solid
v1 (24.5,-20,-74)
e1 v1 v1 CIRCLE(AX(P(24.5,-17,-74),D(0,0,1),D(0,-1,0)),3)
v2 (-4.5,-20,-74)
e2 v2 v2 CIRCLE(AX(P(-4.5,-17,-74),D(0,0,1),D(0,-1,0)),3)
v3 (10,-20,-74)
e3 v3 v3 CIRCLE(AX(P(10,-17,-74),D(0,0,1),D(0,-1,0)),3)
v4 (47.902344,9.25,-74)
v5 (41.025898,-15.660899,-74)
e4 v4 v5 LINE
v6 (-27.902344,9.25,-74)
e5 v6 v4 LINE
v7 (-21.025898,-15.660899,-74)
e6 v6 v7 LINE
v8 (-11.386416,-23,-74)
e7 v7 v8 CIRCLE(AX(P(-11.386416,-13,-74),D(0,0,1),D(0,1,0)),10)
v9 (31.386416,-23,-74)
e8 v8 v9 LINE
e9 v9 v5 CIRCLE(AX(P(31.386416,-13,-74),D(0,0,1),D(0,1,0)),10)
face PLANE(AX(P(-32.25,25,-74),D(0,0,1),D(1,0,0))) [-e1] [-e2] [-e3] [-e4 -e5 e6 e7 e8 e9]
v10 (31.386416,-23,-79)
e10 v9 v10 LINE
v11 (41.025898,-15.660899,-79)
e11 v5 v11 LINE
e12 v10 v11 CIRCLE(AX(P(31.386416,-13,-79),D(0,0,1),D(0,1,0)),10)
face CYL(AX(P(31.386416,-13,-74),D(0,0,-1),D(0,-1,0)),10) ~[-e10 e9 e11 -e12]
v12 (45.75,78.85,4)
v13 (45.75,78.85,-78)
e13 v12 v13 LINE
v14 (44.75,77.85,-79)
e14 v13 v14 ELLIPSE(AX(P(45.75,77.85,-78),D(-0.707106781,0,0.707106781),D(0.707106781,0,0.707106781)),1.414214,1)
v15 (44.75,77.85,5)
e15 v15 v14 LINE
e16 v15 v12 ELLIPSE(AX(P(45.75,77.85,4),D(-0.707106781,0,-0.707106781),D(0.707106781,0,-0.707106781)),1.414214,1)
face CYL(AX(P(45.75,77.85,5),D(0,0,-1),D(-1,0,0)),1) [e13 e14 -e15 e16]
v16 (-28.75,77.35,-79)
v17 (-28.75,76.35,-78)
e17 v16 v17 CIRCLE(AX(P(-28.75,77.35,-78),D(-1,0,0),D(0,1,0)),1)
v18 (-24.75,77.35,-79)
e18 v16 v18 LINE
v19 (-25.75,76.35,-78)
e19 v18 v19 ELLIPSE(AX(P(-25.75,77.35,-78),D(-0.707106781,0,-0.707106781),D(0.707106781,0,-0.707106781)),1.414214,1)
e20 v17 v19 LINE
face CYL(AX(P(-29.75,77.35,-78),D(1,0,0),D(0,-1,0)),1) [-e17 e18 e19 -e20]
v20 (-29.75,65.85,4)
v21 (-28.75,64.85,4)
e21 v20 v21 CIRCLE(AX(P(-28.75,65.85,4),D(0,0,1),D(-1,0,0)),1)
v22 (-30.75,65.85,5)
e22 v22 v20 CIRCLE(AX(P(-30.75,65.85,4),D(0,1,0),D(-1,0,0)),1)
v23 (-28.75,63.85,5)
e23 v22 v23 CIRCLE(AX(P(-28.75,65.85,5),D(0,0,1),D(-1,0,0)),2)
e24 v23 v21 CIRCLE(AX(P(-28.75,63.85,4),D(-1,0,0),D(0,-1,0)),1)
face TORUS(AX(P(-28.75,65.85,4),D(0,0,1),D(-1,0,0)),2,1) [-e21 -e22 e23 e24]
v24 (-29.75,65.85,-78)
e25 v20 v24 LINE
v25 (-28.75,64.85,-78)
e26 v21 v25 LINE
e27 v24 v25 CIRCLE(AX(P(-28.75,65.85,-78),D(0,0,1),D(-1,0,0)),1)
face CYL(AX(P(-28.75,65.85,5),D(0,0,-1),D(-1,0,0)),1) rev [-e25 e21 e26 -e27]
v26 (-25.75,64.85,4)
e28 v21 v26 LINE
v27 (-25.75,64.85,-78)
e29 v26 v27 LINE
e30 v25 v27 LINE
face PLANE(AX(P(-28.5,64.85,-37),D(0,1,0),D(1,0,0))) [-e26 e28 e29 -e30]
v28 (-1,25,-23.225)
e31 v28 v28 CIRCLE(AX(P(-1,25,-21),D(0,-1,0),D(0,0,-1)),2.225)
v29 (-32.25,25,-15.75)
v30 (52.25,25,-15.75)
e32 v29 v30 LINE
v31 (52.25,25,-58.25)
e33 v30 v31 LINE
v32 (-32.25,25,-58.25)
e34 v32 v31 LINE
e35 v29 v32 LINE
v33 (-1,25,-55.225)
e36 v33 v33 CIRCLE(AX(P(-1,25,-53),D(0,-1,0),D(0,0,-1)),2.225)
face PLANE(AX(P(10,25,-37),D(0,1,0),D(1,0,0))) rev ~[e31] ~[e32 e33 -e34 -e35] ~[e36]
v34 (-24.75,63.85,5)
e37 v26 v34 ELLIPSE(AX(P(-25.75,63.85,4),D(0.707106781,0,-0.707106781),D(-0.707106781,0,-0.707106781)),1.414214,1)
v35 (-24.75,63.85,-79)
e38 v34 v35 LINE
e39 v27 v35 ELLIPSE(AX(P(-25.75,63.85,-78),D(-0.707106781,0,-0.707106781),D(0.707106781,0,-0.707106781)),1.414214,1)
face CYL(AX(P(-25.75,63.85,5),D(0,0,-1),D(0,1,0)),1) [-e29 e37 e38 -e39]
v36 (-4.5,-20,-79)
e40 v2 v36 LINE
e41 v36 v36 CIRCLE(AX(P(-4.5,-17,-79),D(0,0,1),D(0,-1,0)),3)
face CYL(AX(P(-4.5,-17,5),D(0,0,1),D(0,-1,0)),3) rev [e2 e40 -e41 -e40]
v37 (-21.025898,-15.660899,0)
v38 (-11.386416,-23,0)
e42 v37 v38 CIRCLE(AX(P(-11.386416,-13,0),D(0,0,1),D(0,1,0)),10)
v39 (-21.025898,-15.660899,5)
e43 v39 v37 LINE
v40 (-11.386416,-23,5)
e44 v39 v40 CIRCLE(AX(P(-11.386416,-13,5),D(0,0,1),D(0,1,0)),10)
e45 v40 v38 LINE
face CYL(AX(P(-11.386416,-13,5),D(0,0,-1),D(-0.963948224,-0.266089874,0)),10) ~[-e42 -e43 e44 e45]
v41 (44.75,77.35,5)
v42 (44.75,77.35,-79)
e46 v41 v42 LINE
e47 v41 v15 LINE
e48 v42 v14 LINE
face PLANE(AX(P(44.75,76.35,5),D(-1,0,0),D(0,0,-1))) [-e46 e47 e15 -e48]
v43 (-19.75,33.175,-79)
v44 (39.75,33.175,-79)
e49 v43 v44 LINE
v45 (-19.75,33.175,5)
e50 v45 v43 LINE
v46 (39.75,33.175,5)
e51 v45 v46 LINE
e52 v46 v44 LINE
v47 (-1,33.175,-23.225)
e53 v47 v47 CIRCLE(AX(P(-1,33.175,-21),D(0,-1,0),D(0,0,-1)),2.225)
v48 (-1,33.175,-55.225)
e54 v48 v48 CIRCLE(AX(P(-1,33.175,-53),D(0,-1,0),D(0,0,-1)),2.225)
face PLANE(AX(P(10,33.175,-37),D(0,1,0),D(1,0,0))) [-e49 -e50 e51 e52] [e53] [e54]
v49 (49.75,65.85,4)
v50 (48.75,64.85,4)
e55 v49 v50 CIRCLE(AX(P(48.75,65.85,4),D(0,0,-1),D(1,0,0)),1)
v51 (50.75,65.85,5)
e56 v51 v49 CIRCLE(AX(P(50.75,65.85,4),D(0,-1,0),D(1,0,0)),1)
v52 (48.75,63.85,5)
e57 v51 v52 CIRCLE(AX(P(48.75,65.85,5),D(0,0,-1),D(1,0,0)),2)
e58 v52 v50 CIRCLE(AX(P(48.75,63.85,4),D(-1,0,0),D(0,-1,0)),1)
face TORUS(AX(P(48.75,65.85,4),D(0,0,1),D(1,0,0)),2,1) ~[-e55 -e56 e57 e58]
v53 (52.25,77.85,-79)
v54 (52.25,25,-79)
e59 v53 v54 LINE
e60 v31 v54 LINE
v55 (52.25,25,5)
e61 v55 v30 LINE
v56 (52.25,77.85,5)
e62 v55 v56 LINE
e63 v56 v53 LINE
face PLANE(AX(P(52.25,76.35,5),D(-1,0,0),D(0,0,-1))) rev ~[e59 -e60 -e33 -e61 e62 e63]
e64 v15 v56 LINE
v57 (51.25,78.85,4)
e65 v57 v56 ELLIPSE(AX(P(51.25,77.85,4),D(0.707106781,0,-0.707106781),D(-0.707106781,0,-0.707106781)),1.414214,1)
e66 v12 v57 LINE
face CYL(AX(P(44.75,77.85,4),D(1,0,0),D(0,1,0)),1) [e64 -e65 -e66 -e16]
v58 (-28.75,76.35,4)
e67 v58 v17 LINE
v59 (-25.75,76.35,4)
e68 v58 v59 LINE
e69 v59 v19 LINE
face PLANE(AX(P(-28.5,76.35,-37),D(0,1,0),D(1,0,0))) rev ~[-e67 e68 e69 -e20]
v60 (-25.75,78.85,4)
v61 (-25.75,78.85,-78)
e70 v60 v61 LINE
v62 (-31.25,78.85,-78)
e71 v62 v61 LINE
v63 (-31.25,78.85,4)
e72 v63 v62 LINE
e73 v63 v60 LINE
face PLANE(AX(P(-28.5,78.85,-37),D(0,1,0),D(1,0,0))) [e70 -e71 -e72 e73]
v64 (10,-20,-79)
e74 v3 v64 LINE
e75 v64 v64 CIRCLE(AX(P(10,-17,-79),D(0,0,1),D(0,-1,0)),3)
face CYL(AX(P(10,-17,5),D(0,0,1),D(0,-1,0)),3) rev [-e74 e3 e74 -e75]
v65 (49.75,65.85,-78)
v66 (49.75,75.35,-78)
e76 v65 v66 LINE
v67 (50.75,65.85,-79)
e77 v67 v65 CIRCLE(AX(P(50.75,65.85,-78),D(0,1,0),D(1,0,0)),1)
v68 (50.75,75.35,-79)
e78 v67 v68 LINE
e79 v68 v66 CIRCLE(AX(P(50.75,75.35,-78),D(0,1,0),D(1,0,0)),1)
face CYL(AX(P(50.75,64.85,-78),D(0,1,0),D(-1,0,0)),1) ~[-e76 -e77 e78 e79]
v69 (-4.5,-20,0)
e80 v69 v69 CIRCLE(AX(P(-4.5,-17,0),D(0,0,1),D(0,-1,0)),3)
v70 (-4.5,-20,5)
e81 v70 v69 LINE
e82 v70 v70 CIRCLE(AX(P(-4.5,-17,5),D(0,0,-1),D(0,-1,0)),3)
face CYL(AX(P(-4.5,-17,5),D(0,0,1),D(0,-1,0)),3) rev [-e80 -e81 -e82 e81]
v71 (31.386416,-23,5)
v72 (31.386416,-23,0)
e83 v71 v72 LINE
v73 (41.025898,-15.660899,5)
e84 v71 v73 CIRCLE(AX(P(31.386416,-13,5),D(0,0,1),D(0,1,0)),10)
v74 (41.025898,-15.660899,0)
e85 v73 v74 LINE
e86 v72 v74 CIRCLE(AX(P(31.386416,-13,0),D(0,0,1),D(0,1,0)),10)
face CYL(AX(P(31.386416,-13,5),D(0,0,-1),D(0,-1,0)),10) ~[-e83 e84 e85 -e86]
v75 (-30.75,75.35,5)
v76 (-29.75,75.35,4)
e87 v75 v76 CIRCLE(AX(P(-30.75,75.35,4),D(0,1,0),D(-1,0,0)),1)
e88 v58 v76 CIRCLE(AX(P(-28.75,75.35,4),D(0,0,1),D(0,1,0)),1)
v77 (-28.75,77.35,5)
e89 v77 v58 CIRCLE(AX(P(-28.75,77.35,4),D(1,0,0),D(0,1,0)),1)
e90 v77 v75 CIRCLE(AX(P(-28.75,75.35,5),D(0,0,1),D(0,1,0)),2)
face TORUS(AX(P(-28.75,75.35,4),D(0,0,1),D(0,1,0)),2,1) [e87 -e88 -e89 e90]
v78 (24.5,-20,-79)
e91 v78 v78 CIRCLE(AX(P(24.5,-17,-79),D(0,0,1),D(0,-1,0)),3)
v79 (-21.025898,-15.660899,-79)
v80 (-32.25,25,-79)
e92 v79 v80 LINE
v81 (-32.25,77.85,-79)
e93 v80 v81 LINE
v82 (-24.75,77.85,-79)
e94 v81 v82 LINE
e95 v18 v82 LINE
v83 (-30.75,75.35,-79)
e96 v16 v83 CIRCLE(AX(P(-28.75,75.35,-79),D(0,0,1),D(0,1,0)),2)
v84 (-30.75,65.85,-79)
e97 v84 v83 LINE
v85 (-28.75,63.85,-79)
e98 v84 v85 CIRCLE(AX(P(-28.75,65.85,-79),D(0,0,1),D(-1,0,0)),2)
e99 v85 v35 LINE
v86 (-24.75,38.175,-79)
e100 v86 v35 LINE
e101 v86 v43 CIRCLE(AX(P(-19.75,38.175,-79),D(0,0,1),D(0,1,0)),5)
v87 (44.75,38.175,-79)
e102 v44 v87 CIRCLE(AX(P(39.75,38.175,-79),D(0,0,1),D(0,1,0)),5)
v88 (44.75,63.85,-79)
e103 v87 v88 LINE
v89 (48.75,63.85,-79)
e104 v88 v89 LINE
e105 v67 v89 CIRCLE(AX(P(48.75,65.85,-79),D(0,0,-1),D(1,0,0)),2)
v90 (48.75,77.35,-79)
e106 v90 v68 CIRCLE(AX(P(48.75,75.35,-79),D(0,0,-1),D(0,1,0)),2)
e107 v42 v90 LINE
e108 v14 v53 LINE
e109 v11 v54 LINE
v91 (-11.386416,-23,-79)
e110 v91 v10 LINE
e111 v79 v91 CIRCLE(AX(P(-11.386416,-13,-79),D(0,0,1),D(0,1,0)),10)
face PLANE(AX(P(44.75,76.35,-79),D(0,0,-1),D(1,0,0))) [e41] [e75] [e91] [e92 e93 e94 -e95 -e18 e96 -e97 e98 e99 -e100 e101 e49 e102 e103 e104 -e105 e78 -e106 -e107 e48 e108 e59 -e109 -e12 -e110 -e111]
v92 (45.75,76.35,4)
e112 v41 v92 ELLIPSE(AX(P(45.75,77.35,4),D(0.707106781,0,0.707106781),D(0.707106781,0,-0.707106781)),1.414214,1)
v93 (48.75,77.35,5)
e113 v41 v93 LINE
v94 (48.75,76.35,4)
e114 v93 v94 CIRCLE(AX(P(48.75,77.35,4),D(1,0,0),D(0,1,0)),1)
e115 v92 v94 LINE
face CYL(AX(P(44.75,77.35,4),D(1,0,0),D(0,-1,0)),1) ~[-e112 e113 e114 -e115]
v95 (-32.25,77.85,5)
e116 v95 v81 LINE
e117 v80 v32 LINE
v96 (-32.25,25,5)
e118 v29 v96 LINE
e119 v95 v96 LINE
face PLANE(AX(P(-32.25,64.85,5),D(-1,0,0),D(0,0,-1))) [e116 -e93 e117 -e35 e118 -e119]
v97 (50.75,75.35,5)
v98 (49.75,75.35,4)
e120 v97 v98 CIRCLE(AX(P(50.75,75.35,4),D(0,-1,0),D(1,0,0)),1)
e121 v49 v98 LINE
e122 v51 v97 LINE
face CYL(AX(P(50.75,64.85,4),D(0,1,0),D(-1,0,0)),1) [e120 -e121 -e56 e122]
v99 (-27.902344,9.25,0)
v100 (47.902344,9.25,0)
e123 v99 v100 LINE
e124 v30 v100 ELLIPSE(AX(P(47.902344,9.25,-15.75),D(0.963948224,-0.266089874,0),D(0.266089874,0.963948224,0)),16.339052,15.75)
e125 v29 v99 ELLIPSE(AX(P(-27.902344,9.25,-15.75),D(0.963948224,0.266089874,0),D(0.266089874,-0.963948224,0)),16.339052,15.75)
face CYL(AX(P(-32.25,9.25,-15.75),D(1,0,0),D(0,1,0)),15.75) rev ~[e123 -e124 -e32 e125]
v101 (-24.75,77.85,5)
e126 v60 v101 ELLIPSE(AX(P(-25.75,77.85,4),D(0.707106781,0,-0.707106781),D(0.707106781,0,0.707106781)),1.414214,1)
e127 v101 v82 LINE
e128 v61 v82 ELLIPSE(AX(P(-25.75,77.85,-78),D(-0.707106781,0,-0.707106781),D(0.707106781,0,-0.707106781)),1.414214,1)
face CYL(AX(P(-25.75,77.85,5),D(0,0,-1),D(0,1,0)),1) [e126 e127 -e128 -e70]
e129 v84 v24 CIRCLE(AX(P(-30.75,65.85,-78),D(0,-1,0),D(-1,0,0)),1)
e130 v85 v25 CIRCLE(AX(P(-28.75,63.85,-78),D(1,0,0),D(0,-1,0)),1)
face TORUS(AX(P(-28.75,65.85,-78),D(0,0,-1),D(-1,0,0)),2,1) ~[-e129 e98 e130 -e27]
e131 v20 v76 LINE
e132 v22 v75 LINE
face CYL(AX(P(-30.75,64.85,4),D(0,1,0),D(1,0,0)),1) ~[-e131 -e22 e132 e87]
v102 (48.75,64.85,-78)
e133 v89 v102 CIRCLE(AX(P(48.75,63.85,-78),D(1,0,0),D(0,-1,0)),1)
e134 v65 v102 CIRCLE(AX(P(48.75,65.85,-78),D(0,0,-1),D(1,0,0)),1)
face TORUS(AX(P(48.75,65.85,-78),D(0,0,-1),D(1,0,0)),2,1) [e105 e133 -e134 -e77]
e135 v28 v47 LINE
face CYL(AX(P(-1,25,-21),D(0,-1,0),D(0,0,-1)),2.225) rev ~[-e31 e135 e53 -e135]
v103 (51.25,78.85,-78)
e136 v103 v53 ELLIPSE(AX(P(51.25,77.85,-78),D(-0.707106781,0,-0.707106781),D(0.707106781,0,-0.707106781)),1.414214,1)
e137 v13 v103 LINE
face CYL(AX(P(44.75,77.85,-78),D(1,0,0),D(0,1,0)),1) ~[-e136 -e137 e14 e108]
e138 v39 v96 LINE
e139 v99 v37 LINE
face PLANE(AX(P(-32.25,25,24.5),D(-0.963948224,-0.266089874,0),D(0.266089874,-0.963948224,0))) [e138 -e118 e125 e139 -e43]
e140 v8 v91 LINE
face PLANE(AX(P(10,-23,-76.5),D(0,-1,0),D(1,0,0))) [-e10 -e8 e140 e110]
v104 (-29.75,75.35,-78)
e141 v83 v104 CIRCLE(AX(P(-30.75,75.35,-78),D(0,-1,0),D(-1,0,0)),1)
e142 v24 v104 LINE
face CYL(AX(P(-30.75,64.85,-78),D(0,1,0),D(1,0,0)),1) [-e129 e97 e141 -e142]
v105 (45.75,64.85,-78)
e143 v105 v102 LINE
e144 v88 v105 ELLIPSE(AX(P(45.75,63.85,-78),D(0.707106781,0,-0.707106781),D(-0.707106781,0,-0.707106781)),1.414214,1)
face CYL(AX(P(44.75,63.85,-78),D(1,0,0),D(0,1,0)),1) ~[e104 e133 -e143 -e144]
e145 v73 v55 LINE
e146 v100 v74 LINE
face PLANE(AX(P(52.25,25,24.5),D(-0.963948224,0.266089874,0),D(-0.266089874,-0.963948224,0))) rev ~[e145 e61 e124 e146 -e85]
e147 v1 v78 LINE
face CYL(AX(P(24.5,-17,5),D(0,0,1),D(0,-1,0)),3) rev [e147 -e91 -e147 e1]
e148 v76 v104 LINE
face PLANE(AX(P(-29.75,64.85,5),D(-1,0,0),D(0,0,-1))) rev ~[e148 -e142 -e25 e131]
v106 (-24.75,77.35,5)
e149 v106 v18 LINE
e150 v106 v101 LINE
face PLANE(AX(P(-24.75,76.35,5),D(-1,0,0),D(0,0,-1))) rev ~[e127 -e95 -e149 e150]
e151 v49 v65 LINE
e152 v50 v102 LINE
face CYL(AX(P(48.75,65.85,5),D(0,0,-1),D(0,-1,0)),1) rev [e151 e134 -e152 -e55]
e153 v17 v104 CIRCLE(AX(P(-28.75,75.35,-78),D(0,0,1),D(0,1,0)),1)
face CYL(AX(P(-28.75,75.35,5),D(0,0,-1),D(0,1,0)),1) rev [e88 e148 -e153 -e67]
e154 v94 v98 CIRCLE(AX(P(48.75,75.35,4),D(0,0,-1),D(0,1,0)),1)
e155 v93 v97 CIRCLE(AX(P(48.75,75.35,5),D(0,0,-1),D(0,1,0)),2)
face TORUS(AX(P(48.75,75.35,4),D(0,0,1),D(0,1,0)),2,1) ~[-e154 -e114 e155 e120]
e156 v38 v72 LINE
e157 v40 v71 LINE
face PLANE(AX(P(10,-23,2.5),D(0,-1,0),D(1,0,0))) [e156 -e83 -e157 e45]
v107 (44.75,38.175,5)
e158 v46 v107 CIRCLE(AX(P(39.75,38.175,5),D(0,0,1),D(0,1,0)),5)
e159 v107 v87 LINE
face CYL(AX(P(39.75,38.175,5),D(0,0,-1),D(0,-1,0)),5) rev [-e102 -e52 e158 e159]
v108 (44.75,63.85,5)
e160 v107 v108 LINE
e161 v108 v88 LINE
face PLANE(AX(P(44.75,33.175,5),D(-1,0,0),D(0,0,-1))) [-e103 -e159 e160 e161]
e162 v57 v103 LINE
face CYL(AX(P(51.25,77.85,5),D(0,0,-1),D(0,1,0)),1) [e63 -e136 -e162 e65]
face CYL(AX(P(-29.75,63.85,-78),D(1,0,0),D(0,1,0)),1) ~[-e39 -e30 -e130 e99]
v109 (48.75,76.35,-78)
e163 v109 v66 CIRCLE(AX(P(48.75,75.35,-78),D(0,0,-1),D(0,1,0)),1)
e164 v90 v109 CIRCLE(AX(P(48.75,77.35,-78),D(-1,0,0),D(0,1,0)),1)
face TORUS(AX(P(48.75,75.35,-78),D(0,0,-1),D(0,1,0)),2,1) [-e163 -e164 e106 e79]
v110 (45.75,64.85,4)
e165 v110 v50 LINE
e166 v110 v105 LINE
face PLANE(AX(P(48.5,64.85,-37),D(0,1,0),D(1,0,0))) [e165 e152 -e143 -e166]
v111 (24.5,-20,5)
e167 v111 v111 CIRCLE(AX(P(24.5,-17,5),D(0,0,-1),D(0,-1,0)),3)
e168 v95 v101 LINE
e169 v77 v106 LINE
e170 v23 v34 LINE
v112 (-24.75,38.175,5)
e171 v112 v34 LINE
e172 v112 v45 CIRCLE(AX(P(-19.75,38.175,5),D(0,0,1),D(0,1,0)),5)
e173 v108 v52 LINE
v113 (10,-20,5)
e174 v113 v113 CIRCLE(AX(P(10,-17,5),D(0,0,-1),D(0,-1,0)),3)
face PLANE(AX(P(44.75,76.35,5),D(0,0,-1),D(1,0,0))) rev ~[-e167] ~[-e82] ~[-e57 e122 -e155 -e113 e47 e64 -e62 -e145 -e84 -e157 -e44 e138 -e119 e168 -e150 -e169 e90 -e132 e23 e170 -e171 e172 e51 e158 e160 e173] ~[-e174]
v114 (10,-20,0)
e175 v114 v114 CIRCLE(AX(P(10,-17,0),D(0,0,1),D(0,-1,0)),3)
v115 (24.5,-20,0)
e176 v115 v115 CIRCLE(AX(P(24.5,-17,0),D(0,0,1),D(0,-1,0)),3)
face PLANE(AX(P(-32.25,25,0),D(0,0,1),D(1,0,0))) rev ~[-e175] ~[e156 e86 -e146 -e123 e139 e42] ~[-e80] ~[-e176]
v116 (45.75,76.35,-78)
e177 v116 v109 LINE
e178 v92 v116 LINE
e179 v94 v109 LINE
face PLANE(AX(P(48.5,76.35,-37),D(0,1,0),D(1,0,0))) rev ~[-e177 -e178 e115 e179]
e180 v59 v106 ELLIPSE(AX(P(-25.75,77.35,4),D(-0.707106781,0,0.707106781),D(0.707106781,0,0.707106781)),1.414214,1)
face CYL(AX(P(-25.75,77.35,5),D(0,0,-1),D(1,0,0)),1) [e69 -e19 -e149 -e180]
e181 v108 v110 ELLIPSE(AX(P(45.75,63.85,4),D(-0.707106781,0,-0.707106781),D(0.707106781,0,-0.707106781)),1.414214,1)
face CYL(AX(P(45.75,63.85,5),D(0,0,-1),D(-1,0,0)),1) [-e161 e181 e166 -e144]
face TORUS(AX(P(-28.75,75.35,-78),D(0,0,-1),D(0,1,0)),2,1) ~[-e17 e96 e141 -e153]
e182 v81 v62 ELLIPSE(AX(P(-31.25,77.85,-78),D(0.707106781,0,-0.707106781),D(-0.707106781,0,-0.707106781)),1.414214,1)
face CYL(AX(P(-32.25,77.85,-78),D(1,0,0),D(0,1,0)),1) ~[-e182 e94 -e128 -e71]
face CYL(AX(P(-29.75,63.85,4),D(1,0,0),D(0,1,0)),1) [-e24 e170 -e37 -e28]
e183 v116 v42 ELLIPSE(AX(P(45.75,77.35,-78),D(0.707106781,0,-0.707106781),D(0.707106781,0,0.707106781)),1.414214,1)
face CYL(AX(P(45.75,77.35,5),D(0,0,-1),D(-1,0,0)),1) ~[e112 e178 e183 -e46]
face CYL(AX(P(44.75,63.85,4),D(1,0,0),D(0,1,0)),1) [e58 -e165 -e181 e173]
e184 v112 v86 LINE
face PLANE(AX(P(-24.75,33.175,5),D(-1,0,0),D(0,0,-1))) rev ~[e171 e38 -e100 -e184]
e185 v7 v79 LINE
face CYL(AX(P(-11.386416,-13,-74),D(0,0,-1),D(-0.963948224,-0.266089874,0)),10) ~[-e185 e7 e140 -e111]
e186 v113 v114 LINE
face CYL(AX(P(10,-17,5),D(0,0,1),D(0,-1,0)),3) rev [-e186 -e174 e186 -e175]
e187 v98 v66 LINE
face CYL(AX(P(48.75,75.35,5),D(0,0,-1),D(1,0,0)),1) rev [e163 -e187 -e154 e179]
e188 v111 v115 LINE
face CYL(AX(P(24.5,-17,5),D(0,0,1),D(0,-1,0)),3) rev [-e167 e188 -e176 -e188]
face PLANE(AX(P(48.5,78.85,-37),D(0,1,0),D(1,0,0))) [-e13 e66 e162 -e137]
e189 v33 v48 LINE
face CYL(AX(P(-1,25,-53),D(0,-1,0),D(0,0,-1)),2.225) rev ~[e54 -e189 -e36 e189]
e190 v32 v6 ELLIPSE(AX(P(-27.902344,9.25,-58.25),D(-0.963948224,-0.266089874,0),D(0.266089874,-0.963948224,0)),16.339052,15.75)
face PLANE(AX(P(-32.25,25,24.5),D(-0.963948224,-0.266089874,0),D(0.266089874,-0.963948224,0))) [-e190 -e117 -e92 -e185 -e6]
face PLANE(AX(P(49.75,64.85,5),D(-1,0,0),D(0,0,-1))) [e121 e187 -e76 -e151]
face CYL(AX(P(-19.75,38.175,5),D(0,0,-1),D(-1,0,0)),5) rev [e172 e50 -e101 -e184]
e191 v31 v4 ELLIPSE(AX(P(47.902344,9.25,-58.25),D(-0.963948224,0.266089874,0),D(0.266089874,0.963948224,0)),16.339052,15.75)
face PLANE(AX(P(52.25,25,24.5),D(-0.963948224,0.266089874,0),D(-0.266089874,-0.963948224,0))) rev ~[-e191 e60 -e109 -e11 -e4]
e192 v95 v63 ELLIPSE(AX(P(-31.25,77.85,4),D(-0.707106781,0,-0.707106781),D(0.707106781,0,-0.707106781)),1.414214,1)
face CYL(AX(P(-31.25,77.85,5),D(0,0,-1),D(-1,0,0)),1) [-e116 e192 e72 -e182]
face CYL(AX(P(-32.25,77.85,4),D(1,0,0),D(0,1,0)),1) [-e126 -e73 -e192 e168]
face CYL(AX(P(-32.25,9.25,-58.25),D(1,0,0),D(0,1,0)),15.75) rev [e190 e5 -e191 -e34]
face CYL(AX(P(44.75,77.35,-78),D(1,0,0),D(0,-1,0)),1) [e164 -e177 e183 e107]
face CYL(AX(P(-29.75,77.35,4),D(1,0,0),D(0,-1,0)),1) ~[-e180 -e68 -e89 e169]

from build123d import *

# Parameters (mm, degrees)
SKETCH4_W               = 84.5
SKETCH4_H               = 84
BOSS_EXTRUDE1_DEPTH     = 8.175
SKETCH5_W               = 84.5
SKETCH5_H               = 5
BOSS_EXTRUDE2_DEPTH     = 48
SKETCH6_R               = 2.225
CUT_EXTRUDE1_DEPTH      = 48
SKETCH7_W               = 7.5
SKETCH7_H               = 84
BOSS_EXTRUDE3_DEPTH     = 31.675
SKETCH8_W               = 2.5
SKETCH8_H               = 84
BOSS_EXTRUDE4_DEPTH     = 11.5
CUT_EXTRUDE2_DEPTH      = 93
CUT_EXTRUDE2_DEPTH_BACK = 5
SKETCH9_R               = 3
SKETCH10_W              = 7.5
SKETCH10_H              = 84
BOSS_EXTRUDE5_DEPTH     = 2.5
FILLET1_R               = 1
CUT_EXTRUDE3_DEPTH      = 88
CUT_EXTRUDE3_DEPTH_BACK = 24.5
FILLET2_R               = 10
FILLET3_R               = 5
FILLET4_R               = 15.75


with BuildPart() as part:
    # Sketch4 → Boss-Extrude1 (new body)
    with BuildSketch(Plane(origin=(0, 25, 0), x_dir=(1, 0, 0), z_dir=(0, 1, 0))):
        with Locations((10, 37)):
            Rectangle(SKETCH4_W, SKETCH4_H)
    extrude(amount=BOSS_EXTRUDE1_DEPTH)

    # Sketch5 → Boss-Extrude2 (add)
    with BuildSketch(Plane.XZ.offset(-25)):
        with Locations((10, 2.5)):
            Rectangle(SKETCH5_W, SKETCH5_H)
        with Locations((10, -76.5)):
            Rectangle(SKETCH5_W, SKETCH5_H)
    extrude(amount=BOSS_EXTRUDE2_DEPTH)

    # Sketch6 → Cut-Extrude1 (cut)
    with BuildSketch(Plane.XZ.offset(-25)):
        with Locations(Location((-1, -21, 0), (0, 0, 270))):
            Circle(SKETCH6_R)
        with Locations(Location((-1, -53, 0), (0, 0, 270))):
            Circle(SKETCH6_R)
    extrude(amount=-CUT_EXTRUDE1_DEPTH, mode=Mode.SUBTRACT)

    # Sketch7 → Boss-Extrude3 (add)
    with BuildSketch(Plane(origin=(0, 33.175, 0), x_dir=(1, 0, 0), z_dir=(0, 1, 0))):
        with Locations((-28.5, 37)):
            Rectangle(SKETCH7_W, SKETCH7_H)
        with Locations((48.5, 37)):
            Rectangle(SKETCH7_W, SKETCH7_H)
    extrude(amount=BOSS_EXTRUDE3_DEPTH)

    # Sketch8 → Boss-Extrude4 (add)
    with BuildSketch(Plane(origin=(0, 64.85, 0), x_dir=(1, 0, 0), z_dir=(0, 1, 0))):
        with Locations((-31, 37)):
            Rectangle(SKETCH8_W, SKETCH8_H)
        with Locations((51, 37)):
            Rectangle(SKETCH8_W, SKETCH8_H)
    extrude(amount=BOSS_EXTRUDE4_DEPTH)

    # Sketch9 → Cut-Extrude2 (cut, two sides: drawn at the far end of the back side and taken through both)
    with BuildSketch(Plane(origin=(0, 0, 0), x_dir=(-1, 0, 0), z_dir=(0, 0, -1)).offset(-CUT_EXTRUDE2_DEPTH_BACK)):
        with Locations(Location((-10, -17, 0), (0, 0, 270))):
            Circle(SKETCH9_R)
        with Locations(Location((-24.5, -17, 0), (0, 0, 270))):
            Circle(SKETCH9_R)
        with Locations(Location((4.5, -17, 0), (0, 0, 270))):
            Circle(SKETCH9_R)
    extrude(amount=CUT_EXTRUDE2_DEPTH + CUT_EXTRUDE2_DEPTH_BACK, mode=Mode.SUBTRACT)

    # Sketch10 → Boss-Extrude5 (add)
    with BuildSketch(Plane(origin=(0, 76.35, 0), x_dir=(1, 0, 0), z_dir=(0, 1, 0))):
        with Locations((48.5, 37)):
            Rectangle(SKETCH10_W, SKETCH10_H)
        with Locations((-28.5, 37)):
            Rectangle(SKETCH10_W, SKETCH10_H)
    extrude(amount=BOSS_EXTRUDE5_DEPTH)

    # Fillet1
    fillet1_edges = [part.edges().sort_by_distance(p)[0] for p in [
        (47.25, 76.35, -79),
        (44.75, 76.35, -37),
        (47.25, 76.35, 5),
        (52.25, 78.85, -37),
        (48.5, 78.85, -79),
        (44.75, 78.85, -37),
        (48.5, 78.85, 5),
        (-27.25, 76.35, 5),
        (-24.75, 76.35, -37),
        (-27.25, 76.35, -79),
        (-32.25, 78.85, -37),
        (-28.5, 78.85, 5),
        (-24.75, 78.85, -37),
        (-28.5, 78.85, -79),
        (-24.75, 64.85, -37),
        (-27.25, 64.85, -79),
        (44.75, 64.85, -37),
        (47.25, 64.85, 5),
        (-27.25, 64.85, 5),
        (47.25, 64.85, -79),
        (-29.75, 64.85, -37),
        (-29.75, 70.6, 5),
        (-29.75, 70.6, -79),
        (-29.75, 76.35, -37),
        (49.75, 64.85, -37),
        (49.75, 70.6, -79),
        (49.75, 70.6, 5),
        (49.75, 76.35, -37),
    ]]
    fillet(fillet1_edges, radius=FILLET1_R)

    # Sketch11 → Cut-Extrude3 (cut, two sides: drawn at the far end of the back side and taken through both)
    with BuildSketch(Plane(origin=(0, 0, 0), x_dir=(-1, 0, 0), z_dir=(0, 0, -1)).offset(-CUT_EXTRUDE3_DEPTH_BACK)):
        Polygon((19, -23), (32.25, -23), (32.25, 25), align=None)
        Polygon((-39, -23), (-52.25, -23), (-52.25, 25), align=None)
    extrude(amount=CUT_EXTRUDE3_DEPTH + CUT_EXTRUDE3_DEPTH_BACK, mode=Mode.SUBTRACT)

    # Fillet2
    fillet2_edges = [part.edges().sort_by_distance(p)[0] for p in [
        (39, -23, 2.5),
        (-19, -23, 2.5),
        (-19, -23, -76.5),
        (39, -23, -76.5),
    ]]
    fillet(fillet2_edges, radius=FILLET2_R)

    # Fillet3
    fillet3_edges = [part.edges().sort_by_distance(p)[0] for p in [
        (-24.75, 33.175, -37),
        (44.75, 33.175, -37),
    ]]
    fillet(fillet3_edges, radius=FILLET3_R)

    # Fillet4
    fillet4_edges = [part.edges().sort_by_distance(p)[0] for p in [
        (10, 25, 0),
        (10, 25, -74),
    ]]
    fillet(fillet4_edges, radius=FILLET4_R)


solid = part.part
